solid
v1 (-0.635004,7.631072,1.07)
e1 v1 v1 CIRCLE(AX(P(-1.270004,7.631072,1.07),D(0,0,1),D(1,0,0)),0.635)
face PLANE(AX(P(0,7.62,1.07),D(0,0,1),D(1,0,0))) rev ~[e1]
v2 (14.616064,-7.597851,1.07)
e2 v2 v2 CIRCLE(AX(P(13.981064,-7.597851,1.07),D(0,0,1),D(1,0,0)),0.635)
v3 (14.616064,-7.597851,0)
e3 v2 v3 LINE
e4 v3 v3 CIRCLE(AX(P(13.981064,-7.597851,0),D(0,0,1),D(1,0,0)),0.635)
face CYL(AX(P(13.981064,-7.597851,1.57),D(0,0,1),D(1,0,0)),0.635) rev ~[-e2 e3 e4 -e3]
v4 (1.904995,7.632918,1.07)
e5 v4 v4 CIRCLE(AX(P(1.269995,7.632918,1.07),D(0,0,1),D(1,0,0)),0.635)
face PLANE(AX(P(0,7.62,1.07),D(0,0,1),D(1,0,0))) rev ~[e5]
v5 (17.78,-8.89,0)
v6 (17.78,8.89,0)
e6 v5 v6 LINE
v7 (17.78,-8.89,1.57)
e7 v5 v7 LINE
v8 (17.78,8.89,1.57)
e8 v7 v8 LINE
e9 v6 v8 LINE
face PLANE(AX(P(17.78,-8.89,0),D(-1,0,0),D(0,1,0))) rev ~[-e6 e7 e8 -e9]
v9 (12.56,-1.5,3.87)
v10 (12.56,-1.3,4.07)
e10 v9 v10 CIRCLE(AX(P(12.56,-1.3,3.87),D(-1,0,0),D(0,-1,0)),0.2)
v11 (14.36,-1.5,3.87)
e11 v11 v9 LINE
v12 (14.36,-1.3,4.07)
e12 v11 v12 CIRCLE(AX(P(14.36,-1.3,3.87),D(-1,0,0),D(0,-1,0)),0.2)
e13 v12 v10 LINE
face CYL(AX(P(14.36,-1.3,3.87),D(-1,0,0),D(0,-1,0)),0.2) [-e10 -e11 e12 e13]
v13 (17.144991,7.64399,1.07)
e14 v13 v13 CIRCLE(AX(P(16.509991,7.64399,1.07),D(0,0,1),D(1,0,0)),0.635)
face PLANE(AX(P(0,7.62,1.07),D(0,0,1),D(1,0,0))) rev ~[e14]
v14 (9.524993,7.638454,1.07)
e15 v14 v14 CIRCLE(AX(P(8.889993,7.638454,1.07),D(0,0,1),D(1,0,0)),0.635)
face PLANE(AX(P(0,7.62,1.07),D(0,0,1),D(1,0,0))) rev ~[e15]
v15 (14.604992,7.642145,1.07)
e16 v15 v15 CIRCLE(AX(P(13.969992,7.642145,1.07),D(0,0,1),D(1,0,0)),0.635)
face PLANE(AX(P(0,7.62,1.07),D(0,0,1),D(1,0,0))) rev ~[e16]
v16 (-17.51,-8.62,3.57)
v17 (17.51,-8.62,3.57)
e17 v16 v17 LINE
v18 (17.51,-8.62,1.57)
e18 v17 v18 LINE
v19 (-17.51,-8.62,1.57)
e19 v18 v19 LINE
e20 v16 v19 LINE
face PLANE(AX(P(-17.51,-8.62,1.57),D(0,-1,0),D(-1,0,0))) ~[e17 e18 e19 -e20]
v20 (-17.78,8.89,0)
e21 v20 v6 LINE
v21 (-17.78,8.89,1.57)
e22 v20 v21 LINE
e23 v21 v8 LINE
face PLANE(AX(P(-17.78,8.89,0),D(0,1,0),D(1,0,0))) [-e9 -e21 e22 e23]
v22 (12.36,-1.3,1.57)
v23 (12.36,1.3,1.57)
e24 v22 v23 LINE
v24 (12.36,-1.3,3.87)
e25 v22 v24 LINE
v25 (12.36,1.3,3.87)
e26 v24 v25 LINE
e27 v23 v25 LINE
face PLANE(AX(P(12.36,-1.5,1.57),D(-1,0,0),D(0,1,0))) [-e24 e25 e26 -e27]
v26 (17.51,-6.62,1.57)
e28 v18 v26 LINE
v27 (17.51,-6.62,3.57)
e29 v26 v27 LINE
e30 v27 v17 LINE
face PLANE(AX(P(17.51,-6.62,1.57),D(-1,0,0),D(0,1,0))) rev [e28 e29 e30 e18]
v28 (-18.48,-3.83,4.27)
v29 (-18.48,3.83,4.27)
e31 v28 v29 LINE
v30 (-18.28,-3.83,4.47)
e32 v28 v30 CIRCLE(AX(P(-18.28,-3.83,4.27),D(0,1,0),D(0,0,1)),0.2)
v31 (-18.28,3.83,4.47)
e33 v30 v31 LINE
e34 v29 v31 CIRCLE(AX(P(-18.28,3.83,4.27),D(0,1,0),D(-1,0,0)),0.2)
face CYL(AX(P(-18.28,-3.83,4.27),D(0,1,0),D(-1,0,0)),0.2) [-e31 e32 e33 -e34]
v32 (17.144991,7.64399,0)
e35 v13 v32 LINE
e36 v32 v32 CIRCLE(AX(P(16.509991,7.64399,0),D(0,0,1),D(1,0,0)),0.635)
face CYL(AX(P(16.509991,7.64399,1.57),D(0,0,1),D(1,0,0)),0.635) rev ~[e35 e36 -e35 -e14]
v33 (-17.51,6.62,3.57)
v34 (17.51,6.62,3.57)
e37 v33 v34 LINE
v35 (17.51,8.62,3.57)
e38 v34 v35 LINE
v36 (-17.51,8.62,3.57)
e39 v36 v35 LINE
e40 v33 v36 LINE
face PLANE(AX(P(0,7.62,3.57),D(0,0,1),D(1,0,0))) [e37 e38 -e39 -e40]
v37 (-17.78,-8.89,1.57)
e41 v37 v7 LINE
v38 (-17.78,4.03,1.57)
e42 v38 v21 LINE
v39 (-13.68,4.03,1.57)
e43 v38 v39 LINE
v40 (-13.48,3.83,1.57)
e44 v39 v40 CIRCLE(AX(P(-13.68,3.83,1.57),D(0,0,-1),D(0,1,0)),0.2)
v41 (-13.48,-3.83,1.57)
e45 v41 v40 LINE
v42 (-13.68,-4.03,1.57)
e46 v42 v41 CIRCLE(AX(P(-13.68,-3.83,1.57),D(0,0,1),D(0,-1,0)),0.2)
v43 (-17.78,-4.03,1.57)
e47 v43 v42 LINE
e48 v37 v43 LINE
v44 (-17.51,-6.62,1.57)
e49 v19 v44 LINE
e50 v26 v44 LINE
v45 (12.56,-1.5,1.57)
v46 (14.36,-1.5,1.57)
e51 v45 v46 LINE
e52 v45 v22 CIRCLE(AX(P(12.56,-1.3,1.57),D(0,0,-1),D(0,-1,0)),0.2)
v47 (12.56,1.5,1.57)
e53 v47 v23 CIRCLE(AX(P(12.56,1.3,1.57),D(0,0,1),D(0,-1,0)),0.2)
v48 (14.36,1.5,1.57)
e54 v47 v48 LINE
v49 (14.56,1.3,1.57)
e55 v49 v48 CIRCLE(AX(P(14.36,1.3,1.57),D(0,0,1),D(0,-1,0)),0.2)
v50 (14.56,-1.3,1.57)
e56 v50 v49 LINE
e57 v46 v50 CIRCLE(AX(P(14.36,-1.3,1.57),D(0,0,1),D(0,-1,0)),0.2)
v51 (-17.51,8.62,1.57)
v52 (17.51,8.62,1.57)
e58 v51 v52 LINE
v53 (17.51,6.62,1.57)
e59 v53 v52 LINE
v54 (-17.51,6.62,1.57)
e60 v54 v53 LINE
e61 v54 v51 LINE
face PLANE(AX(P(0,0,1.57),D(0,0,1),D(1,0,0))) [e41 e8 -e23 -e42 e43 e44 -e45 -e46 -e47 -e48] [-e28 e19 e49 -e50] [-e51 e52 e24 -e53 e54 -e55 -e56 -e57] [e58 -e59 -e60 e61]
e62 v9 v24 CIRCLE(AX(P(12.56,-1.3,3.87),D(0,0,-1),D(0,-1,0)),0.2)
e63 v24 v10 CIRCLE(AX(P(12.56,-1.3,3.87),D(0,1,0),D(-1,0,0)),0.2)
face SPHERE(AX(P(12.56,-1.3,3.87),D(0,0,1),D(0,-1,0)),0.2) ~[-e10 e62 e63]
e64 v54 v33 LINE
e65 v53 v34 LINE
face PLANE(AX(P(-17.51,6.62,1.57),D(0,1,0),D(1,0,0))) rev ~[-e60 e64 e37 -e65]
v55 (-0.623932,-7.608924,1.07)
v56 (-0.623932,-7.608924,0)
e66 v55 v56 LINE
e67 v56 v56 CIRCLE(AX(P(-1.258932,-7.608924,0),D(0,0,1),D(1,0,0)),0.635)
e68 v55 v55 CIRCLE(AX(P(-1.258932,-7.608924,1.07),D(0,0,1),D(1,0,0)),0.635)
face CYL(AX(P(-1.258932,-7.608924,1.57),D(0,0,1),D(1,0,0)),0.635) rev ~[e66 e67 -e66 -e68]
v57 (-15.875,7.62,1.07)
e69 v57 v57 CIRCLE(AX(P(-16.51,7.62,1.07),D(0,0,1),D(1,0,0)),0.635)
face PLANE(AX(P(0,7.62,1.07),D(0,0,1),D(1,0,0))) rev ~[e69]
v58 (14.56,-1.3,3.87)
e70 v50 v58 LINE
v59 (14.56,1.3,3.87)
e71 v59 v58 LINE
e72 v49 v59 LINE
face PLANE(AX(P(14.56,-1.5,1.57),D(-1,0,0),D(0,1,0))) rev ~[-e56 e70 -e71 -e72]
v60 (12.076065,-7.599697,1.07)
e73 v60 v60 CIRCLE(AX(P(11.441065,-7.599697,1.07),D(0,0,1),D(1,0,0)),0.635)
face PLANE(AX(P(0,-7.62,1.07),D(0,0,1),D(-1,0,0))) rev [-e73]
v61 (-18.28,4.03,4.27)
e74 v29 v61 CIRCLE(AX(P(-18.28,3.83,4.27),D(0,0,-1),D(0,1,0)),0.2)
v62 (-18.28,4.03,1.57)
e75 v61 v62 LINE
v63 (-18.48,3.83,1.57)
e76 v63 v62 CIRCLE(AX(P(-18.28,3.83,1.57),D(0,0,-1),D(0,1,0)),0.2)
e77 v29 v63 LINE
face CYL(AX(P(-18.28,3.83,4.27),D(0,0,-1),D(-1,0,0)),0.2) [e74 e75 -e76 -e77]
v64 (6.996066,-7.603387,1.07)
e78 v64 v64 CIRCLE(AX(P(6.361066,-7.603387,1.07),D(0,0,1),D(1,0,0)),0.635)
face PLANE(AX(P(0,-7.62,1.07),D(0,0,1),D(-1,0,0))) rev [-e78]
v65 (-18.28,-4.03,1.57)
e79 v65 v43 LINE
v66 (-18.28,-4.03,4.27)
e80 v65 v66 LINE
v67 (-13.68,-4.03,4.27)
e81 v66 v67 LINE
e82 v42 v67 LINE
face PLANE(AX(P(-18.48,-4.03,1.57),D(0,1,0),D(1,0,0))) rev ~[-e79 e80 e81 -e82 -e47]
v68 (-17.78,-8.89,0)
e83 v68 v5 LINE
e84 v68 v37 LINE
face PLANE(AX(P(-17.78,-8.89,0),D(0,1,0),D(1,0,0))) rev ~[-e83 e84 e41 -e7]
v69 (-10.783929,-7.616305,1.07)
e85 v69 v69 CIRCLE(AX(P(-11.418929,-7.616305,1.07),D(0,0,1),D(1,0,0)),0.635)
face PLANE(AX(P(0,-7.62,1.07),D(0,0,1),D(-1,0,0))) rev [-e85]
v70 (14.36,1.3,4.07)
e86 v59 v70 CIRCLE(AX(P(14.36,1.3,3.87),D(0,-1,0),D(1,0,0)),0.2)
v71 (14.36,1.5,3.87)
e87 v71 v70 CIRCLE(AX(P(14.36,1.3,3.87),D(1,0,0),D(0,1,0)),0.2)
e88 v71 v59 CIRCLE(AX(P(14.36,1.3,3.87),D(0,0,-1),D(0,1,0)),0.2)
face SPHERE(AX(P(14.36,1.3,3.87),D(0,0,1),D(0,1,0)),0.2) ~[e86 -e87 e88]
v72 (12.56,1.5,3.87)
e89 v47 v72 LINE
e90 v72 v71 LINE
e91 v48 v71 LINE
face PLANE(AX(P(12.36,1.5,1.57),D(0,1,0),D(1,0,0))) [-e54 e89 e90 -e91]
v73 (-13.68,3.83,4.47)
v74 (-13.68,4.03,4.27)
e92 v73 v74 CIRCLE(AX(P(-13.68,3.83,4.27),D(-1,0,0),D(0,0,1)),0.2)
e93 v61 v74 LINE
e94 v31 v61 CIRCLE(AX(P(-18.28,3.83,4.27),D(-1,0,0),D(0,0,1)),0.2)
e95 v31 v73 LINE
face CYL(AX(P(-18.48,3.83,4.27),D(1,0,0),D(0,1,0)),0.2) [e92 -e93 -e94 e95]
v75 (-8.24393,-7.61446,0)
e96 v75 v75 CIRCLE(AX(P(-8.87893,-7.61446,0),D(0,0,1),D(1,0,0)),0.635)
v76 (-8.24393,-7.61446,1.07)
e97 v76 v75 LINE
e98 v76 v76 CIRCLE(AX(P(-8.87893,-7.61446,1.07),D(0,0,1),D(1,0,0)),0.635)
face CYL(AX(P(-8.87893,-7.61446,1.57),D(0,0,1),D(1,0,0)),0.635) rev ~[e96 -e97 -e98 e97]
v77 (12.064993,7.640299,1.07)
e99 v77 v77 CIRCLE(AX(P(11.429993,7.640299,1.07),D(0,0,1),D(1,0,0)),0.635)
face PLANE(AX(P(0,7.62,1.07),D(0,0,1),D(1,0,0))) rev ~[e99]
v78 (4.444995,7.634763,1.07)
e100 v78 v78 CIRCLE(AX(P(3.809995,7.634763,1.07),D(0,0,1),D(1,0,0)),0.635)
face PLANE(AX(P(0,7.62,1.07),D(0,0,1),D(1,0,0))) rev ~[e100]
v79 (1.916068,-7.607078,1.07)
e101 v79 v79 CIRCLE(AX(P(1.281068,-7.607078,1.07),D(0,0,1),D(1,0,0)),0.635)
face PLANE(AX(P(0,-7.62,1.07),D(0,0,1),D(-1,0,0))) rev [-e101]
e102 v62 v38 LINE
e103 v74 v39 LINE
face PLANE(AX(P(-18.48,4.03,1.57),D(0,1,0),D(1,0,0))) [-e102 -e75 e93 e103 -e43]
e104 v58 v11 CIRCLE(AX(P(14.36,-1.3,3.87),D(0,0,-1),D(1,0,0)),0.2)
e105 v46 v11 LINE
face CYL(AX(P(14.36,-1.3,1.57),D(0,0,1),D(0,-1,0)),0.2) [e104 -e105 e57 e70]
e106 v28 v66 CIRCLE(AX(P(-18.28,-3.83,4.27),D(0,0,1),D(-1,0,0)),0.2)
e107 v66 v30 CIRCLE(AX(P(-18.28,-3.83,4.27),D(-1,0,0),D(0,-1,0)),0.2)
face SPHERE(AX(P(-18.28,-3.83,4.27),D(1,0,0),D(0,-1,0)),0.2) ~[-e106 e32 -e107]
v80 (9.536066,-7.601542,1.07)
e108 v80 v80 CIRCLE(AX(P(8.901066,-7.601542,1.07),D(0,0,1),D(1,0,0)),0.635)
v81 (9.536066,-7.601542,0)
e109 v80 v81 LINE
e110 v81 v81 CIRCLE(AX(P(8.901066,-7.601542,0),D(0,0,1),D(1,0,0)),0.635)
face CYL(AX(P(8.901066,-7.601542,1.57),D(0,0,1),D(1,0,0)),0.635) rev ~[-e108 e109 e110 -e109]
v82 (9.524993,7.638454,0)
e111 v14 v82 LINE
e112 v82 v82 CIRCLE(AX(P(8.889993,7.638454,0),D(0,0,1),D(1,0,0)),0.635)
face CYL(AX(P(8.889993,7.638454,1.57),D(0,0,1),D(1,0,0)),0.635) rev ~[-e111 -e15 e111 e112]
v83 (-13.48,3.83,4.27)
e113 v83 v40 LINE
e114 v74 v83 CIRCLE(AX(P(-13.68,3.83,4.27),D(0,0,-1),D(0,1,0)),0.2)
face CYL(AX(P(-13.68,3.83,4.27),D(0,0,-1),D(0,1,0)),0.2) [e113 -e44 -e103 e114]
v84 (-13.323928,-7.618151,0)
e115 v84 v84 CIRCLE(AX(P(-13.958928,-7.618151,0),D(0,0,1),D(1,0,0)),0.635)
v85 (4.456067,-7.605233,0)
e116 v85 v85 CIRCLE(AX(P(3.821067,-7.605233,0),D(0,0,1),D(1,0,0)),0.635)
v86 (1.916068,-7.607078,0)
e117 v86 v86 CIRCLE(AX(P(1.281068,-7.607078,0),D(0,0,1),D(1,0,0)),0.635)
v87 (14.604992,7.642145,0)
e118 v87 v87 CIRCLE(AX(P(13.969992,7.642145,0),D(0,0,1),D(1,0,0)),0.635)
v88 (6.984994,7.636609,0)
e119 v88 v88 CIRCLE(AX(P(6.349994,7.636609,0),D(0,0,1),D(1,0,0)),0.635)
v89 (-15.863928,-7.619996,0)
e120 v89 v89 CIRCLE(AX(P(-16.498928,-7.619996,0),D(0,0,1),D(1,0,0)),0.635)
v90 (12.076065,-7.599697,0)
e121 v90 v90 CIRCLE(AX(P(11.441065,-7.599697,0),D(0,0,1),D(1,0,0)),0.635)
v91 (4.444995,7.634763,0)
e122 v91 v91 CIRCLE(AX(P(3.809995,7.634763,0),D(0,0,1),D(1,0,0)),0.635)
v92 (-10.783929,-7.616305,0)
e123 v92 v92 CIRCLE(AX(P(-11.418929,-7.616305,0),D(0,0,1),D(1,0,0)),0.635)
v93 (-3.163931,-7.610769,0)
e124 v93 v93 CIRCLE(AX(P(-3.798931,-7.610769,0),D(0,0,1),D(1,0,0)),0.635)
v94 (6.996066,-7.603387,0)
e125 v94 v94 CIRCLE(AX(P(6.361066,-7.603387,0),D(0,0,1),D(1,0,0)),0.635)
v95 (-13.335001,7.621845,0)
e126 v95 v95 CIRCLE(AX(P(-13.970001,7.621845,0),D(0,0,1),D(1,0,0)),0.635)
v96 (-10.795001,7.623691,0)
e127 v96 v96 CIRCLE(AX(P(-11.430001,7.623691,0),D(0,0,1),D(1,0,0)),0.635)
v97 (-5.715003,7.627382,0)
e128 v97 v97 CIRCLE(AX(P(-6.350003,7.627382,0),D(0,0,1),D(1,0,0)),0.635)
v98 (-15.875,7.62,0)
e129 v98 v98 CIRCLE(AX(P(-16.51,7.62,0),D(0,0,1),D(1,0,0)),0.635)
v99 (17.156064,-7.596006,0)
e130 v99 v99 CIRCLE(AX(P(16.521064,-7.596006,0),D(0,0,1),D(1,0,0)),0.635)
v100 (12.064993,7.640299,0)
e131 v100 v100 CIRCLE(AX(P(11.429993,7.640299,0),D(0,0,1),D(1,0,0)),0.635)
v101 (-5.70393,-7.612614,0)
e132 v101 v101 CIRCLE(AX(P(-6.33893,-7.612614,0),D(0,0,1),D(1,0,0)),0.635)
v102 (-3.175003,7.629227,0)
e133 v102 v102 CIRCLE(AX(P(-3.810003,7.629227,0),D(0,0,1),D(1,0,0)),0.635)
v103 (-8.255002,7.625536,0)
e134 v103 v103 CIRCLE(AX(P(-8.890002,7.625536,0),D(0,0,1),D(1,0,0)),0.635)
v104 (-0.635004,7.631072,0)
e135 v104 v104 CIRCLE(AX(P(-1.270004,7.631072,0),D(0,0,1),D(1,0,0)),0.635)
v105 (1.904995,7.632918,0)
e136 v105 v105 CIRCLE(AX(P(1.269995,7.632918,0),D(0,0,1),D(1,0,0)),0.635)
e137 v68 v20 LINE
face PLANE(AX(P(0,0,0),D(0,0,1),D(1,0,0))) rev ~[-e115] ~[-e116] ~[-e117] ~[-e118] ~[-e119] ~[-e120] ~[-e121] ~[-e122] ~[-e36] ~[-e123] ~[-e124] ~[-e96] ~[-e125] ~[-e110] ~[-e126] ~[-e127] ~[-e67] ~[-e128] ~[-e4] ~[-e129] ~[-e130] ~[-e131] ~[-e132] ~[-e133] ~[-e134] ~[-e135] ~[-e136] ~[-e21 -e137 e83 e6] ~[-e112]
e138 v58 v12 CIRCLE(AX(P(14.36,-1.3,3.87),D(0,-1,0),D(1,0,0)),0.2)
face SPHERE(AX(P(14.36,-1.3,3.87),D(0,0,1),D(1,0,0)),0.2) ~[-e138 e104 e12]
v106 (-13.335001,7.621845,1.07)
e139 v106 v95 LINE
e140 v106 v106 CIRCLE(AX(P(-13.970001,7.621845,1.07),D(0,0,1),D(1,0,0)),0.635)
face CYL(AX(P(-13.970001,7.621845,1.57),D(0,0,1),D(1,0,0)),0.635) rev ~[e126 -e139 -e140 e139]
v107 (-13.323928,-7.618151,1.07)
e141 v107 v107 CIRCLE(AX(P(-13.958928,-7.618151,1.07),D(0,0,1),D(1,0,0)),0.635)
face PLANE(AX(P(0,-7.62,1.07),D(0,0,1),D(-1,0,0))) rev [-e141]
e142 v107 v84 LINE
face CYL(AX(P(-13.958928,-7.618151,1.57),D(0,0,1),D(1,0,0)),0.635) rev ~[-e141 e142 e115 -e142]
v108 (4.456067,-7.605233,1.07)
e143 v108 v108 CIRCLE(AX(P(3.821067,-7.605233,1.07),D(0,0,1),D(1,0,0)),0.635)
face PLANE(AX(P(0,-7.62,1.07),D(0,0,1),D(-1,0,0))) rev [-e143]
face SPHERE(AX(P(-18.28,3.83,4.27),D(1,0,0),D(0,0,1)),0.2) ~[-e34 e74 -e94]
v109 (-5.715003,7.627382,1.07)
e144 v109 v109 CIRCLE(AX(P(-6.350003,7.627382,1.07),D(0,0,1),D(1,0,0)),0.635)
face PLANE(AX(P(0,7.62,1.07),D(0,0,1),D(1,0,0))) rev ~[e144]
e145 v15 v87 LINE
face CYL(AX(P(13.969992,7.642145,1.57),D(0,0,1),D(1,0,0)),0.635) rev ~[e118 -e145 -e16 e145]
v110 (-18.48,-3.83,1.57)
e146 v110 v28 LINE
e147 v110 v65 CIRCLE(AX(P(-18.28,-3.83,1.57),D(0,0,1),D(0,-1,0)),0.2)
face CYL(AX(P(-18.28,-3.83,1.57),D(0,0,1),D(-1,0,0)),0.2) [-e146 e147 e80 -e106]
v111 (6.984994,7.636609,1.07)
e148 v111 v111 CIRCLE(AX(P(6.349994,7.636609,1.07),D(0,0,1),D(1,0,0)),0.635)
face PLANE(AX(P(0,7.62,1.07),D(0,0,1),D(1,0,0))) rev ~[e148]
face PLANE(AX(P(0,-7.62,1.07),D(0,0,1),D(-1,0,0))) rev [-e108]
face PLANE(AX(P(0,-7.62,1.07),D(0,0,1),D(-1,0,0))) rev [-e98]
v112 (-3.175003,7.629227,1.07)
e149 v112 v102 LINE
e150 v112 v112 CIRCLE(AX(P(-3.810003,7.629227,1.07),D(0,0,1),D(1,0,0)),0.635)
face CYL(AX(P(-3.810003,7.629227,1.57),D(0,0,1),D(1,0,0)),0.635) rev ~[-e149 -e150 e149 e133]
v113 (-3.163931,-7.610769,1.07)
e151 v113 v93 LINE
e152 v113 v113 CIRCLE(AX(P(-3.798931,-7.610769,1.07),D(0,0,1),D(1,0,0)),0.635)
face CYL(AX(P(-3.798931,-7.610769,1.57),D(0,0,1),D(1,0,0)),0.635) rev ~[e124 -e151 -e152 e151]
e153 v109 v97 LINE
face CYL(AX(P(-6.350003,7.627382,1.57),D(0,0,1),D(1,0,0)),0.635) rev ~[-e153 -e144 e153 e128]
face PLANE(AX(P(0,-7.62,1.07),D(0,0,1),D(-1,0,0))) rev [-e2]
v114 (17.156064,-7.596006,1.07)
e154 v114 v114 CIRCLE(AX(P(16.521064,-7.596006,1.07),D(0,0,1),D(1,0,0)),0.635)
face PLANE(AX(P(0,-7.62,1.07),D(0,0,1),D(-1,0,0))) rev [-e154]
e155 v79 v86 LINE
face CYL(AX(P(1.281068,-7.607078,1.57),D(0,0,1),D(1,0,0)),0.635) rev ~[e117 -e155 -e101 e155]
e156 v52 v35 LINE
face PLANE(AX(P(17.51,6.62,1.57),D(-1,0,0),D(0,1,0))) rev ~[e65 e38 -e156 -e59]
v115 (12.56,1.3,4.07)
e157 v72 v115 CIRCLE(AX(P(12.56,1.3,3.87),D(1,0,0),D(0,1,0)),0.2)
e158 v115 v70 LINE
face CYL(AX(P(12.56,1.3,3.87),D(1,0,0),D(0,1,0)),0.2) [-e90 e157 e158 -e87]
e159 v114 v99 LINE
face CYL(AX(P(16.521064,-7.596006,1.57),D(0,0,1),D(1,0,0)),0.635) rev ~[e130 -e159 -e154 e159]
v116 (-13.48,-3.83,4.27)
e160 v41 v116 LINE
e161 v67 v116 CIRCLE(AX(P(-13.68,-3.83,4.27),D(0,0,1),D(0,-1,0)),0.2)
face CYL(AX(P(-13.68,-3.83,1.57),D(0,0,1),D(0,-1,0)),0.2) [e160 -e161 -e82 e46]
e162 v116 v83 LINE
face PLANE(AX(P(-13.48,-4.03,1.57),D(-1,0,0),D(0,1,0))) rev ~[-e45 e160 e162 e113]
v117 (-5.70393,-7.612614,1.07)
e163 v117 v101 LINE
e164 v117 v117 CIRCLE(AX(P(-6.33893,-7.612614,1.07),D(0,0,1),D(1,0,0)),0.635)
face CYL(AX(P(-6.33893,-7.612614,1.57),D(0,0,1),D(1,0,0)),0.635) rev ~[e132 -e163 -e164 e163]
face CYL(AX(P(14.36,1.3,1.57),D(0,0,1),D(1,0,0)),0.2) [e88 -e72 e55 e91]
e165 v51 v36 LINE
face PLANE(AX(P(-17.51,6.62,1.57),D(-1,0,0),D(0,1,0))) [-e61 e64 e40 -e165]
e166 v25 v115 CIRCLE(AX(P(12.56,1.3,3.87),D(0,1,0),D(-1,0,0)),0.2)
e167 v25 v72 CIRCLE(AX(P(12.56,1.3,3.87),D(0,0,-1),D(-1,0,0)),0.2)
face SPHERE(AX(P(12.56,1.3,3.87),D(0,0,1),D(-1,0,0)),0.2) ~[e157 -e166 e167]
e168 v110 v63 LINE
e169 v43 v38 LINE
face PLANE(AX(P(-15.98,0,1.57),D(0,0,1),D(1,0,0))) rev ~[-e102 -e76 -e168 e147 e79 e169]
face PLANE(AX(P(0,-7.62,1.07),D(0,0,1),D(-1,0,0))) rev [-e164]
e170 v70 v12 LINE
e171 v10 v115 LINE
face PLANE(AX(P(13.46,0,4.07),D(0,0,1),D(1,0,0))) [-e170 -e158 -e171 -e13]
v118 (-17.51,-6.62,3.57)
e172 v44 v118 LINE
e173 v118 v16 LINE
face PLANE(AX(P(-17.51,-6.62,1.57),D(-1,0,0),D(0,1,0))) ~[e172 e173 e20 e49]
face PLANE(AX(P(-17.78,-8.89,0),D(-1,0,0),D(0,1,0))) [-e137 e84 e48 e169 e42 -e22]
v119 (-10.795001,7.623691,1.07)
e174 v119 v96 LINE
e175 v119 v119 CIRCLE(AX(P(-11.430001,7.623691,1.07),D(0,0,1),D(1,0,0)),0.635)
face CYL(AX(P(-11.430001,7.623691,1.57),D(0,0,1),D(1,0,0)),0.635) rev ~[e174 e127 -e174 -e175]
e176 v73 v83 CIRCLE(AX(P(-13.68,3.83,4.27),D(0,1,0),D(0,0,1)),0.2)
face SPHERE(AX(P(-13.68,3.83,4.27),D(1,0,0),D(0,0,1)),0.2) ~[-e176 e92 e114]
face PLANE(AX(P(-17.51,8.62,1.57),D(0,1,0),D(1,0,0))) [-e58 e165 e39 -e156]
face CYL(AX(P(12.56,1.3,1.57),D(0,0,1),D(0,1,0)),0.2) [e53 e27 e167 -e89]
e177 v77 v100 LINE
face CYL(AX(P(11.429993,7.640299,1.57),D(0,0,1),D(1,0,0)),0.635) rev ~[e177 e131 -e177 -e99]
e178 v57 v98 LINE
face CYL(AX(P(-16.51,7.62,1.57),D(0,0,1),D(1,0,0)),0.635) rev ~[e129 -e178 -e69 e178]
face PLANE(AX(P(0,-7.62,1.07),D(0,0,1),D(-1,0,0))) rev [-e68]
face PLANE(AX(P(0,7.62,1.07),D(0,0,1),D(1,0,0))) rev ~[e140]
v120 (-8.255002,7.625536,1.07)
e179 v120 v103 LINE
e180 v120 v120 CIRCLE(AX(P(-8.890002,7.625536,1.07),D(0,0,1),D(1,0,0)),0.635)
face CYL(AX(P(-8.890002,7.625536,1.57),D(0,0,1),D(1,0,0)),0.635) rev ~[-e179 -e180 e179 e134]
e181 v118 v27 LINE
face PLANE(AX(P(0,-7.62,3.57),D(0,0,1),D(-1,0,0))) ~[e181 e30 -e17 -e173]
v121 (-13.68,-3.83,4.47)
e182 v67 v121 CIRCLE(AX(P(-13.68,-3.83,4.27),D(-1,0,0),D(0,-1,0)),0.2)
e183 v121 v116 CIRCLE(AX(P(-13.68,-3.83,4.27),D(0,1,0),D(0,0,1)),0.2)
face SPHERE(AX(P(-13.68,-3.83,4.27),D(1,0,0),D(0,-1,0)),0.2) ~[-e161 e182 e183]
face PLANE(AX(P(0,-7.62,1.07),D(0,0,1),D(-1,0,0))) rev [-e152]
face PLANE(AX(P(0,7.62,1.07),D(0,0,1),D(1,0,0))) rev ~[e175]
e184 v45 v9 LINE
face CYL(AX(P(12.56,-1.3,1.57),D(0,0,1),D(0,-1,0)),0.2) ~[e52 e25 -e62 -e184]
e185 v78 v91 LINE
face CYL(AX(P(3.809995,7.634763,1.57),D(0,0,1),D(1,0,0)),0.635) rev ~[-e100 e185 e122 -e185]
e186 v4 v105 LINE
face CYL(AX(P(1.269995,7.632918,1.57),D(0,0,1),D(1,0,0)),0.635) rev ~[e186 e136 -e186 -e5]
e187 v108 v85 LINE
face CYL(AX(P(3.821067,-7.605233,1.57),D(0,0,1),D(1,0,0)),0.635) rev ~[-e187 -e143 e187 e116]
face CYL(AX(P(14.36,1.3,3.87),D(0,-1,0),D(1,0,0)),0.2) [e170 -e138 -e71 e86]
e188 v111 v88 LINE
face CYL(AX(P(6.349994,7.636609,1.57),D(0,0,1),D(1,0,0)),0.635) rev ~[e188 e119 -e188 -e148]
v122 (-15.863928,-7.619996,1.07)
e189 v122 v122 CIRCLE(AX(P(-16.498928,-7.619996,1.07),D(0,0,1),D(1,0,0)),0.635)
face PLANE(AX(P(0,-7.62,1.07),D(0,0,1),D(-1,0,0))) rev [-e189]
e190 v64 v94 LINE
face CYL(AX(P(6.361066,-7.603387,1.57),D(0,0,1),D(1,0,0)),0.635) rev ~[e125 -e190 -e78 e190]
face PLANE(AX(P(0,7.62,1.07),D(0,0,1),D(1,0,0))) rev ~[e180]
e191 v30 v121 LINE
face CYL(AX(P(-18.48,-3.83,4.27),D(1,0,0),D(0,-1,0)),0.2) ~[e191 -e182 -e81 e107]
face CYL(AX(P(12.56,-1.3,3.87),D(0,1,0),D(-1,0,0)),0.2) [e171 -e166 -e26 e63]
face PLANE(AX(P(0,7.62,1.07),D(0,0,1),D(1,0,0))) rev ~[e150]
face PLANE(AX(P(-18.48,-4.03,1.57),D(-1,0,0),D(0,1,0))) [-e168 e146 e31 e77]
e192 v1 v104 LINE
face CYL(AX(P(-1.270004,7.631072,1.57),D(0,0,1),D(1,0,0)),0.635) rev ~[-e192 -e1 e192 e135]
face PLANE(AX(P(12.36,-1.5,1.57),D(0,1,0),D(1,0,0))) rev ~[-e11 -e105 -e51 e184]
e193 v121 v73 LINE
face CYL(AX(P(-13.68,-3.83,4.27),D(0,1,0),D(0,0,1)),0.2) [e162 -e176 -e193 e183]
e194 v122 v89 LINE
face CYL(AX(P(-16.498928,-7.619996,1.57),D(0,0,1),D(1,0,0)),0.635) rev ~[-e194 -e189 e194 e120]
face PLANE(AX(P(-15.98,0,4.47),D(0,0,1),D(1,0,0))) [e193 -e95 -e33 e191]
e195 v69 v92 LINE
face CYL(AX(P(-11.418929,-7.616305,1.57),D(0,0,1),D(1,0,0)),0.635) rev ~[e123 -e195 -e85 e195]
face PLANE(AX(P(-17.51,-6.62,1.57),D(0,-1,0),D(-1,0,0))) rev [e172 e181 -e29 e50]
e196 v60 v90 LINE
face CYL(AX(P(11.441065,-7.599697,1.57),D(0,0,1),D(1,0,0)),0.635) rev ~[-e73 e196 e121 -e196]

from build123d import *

# Parameters (mm, degrees)
SKETCH_W          = 35.56
SKETCH_H          = 17.78
PAD_DEPTH         = 1.57
SKETCH001_R       = 0.635
POCKET_DEPTH      = 1.571
SKETCH002_W       = 2.2
SKETCH002_H       = 3
PAD001_DEPTH      = 2.5
FILLET_R          = 0.2
FILLET001_R       = 0.2
SKETCH003_W       = 5
SKETCH003_H       = 8.06
PAD002_DEPTH      = 2.9
FILLET002_R       = 0.2
FILLET003_R       = 0.2
SKETCH006_W       = 35.02
SKETCH006_H       = 2
PAD004_DEPTH      = 2
PAD004_DEPTH_BACK = 0.5


with BuildPart() as part:
    # Sketch → Pad (new body)
    with BuildSketch(Plane.XY):
        Rectangle(SKETCH_W, SKETCH_H)
    extrude(amount=PAD_DEPTH)

    # Sketch001 → Pocket (cut, through all)
    with BuildSketch(Plane.XY.offset(1.57)):
        with Locations((-16.51, 7.62)):
            Circle(SKETCH001_R)
        with Locations((-13.970001, 7.621845)):
            Circle(SKETCH001_R)
        with Locations((-11.430001, 7.623691)):
            Circle(SKETCH001_R)
        with Locations((-8.890002, 7.625536)):
            Circle(SKETCH001_R)
        with Locations((-6.350003, 7.627382)):
            Circle(SKETCH001_R)
        with Locations((-3.810003, 7.629227)):
            Circle(SKETCH001_R)
        with Locations((-1.270004, 7.631072)):
            Circle(SKETCH001_R)
        with Locations((1.269995, 7.632918)):
            Circle(SKETCH001_R)
        with Locations((3.809995, 7.634763)):
            Circle(SKETCH001_R)
        with Locations((6.349994, 7.636609)):
            Circle(SKETCH001_R)
        with Locations((8.889993, 7.638454)):
            Circle(SKETCH001_R)
        with Locations((11.429993, 7.640299)):
            Circle(SKETCH001_R)
        with Locations((13.969992, 7.642145)):
            Circle(SKETCH001_R)
        with Locations((16.509991, 7.64399)):
            Circle(SKETCH001_R)
        with Locations((-16.498928, -7.619996)):
            Circle(SKETCH001_R)
        with Locations((-13.958928, -7.618151)):
            Circle(SKETCH001_R)
        with Locations((-11.418929, -7.616305)):
            Circle(SKETCH001_R)
        with Locations((-8.87893, -7.61446)):
            Circle(SKETCH001_R)
        with Locations((-6.33893, -7.612614)):
            Circle(SKETCH001_R)
        with Locations((-3.798931, -7.610769)):
            Circle(SKETCH001_R)
        with Locations((-1.258932, -7.608924)):
            Circle(SKETCH001_R)
        with Locations((1.281068, -7.607078)):
            Circle(SKETCH001_R)
        with Locations((3.821067, -7.605233)):
            Circle(SKETCH001_R)
        with Locations((6.361066, -7.603387)):
            Circle(SKETCH001_R)
        with Locations((8.901066, -7.601542)):
            Circle(SKETCH001_R)
        with Locations((11.441065, -7.599697)):
            Circle(SKETCH001_R)
        with Locations((13.981064, -7.597851)):
            Circle(SKETCH001_R)
        with Locations((16.521064, -7.596006)):
            Circle(SKETCH001_R)
    extrude(amount=-POCKET_DEPTH, mode=Mode.SUBTRACT)

    # Sketch002 → Pad001 (new body)
    with BuildSketch(Plane.XY.offset(1.57)):
        with Locations((13.46, 0)):
            Rectangle(SKETCH002_W, SKETCH002_H)
    extrude(amount=PAD001_DEPTH)

    # Fillet
    fillet_edges = [part.edges().sort_by_distance(p)[0] for p in [
        (14.56, 1.5, 2.82),
        (14.56, -1.5, 2.82),
        (12.36, -1.5, 2.82),
        (12.36, 1.5, 2.82),
    ]]
    fillet(fillet_edges, radius=FILLET_R)

    # Fillet001
    fillet001_edges = [part.edges().sort_by_distance(p)[0] for p in [
        (13.46, 1.5, 4.07),
    ]]
    fillet(fillet001_edges, radius=FILLET001_R)

    # Sketch003 → Pad002 (new body)
    with BuildSketch(Plane.XY.offset(1.57)):
        with Locations((-15.98, 0)):
            Rectangle(SKETCH003_W, SKETCH003_H)
    extrude(amount=PAD002_DEPTH)

    # Fillet002
    fillet002_edges = [part.edges().sort_by_distance(p)[0] for p in [
        (-15.98, -4.03, 4.47),
        (-15.98, 4.03, 4.47),
    ]]
    fillet(fillet002_edges, radius=FILLET002_R)

    # Fillet003
    fillet003_edges = [part.edges().sort_by_distance(p)[0] for p in [
        (-18.48, 0, 4.47),
        (-13.48, 0, 4.47),
    ]]
    fillet(fillet003_edges, radius=FILLET003_R)

    # Sketch006 → Pad004 (new body, two sides)
    with BuildSketch(Plane.XY.offset(1.57)) as pad004_sk:
        with Locations((0, 7.62)):
            Rectangle(SKETCH006_W, SKETCH006_H)
    pad004 = extrude(amount=PAD004_DEPTH) + extrude(pad004_sk.sketch, amount=-PAD004_DEPTH_BACK)

    # Mirrored: Pad004 across Sketch006 H_Axis
    add(pad004.mirror(Plane(origin=(0, 0, 1.57), x_dir=(0, 0, 1), z_dir=(0, 1, 0))))


solid = part.part
